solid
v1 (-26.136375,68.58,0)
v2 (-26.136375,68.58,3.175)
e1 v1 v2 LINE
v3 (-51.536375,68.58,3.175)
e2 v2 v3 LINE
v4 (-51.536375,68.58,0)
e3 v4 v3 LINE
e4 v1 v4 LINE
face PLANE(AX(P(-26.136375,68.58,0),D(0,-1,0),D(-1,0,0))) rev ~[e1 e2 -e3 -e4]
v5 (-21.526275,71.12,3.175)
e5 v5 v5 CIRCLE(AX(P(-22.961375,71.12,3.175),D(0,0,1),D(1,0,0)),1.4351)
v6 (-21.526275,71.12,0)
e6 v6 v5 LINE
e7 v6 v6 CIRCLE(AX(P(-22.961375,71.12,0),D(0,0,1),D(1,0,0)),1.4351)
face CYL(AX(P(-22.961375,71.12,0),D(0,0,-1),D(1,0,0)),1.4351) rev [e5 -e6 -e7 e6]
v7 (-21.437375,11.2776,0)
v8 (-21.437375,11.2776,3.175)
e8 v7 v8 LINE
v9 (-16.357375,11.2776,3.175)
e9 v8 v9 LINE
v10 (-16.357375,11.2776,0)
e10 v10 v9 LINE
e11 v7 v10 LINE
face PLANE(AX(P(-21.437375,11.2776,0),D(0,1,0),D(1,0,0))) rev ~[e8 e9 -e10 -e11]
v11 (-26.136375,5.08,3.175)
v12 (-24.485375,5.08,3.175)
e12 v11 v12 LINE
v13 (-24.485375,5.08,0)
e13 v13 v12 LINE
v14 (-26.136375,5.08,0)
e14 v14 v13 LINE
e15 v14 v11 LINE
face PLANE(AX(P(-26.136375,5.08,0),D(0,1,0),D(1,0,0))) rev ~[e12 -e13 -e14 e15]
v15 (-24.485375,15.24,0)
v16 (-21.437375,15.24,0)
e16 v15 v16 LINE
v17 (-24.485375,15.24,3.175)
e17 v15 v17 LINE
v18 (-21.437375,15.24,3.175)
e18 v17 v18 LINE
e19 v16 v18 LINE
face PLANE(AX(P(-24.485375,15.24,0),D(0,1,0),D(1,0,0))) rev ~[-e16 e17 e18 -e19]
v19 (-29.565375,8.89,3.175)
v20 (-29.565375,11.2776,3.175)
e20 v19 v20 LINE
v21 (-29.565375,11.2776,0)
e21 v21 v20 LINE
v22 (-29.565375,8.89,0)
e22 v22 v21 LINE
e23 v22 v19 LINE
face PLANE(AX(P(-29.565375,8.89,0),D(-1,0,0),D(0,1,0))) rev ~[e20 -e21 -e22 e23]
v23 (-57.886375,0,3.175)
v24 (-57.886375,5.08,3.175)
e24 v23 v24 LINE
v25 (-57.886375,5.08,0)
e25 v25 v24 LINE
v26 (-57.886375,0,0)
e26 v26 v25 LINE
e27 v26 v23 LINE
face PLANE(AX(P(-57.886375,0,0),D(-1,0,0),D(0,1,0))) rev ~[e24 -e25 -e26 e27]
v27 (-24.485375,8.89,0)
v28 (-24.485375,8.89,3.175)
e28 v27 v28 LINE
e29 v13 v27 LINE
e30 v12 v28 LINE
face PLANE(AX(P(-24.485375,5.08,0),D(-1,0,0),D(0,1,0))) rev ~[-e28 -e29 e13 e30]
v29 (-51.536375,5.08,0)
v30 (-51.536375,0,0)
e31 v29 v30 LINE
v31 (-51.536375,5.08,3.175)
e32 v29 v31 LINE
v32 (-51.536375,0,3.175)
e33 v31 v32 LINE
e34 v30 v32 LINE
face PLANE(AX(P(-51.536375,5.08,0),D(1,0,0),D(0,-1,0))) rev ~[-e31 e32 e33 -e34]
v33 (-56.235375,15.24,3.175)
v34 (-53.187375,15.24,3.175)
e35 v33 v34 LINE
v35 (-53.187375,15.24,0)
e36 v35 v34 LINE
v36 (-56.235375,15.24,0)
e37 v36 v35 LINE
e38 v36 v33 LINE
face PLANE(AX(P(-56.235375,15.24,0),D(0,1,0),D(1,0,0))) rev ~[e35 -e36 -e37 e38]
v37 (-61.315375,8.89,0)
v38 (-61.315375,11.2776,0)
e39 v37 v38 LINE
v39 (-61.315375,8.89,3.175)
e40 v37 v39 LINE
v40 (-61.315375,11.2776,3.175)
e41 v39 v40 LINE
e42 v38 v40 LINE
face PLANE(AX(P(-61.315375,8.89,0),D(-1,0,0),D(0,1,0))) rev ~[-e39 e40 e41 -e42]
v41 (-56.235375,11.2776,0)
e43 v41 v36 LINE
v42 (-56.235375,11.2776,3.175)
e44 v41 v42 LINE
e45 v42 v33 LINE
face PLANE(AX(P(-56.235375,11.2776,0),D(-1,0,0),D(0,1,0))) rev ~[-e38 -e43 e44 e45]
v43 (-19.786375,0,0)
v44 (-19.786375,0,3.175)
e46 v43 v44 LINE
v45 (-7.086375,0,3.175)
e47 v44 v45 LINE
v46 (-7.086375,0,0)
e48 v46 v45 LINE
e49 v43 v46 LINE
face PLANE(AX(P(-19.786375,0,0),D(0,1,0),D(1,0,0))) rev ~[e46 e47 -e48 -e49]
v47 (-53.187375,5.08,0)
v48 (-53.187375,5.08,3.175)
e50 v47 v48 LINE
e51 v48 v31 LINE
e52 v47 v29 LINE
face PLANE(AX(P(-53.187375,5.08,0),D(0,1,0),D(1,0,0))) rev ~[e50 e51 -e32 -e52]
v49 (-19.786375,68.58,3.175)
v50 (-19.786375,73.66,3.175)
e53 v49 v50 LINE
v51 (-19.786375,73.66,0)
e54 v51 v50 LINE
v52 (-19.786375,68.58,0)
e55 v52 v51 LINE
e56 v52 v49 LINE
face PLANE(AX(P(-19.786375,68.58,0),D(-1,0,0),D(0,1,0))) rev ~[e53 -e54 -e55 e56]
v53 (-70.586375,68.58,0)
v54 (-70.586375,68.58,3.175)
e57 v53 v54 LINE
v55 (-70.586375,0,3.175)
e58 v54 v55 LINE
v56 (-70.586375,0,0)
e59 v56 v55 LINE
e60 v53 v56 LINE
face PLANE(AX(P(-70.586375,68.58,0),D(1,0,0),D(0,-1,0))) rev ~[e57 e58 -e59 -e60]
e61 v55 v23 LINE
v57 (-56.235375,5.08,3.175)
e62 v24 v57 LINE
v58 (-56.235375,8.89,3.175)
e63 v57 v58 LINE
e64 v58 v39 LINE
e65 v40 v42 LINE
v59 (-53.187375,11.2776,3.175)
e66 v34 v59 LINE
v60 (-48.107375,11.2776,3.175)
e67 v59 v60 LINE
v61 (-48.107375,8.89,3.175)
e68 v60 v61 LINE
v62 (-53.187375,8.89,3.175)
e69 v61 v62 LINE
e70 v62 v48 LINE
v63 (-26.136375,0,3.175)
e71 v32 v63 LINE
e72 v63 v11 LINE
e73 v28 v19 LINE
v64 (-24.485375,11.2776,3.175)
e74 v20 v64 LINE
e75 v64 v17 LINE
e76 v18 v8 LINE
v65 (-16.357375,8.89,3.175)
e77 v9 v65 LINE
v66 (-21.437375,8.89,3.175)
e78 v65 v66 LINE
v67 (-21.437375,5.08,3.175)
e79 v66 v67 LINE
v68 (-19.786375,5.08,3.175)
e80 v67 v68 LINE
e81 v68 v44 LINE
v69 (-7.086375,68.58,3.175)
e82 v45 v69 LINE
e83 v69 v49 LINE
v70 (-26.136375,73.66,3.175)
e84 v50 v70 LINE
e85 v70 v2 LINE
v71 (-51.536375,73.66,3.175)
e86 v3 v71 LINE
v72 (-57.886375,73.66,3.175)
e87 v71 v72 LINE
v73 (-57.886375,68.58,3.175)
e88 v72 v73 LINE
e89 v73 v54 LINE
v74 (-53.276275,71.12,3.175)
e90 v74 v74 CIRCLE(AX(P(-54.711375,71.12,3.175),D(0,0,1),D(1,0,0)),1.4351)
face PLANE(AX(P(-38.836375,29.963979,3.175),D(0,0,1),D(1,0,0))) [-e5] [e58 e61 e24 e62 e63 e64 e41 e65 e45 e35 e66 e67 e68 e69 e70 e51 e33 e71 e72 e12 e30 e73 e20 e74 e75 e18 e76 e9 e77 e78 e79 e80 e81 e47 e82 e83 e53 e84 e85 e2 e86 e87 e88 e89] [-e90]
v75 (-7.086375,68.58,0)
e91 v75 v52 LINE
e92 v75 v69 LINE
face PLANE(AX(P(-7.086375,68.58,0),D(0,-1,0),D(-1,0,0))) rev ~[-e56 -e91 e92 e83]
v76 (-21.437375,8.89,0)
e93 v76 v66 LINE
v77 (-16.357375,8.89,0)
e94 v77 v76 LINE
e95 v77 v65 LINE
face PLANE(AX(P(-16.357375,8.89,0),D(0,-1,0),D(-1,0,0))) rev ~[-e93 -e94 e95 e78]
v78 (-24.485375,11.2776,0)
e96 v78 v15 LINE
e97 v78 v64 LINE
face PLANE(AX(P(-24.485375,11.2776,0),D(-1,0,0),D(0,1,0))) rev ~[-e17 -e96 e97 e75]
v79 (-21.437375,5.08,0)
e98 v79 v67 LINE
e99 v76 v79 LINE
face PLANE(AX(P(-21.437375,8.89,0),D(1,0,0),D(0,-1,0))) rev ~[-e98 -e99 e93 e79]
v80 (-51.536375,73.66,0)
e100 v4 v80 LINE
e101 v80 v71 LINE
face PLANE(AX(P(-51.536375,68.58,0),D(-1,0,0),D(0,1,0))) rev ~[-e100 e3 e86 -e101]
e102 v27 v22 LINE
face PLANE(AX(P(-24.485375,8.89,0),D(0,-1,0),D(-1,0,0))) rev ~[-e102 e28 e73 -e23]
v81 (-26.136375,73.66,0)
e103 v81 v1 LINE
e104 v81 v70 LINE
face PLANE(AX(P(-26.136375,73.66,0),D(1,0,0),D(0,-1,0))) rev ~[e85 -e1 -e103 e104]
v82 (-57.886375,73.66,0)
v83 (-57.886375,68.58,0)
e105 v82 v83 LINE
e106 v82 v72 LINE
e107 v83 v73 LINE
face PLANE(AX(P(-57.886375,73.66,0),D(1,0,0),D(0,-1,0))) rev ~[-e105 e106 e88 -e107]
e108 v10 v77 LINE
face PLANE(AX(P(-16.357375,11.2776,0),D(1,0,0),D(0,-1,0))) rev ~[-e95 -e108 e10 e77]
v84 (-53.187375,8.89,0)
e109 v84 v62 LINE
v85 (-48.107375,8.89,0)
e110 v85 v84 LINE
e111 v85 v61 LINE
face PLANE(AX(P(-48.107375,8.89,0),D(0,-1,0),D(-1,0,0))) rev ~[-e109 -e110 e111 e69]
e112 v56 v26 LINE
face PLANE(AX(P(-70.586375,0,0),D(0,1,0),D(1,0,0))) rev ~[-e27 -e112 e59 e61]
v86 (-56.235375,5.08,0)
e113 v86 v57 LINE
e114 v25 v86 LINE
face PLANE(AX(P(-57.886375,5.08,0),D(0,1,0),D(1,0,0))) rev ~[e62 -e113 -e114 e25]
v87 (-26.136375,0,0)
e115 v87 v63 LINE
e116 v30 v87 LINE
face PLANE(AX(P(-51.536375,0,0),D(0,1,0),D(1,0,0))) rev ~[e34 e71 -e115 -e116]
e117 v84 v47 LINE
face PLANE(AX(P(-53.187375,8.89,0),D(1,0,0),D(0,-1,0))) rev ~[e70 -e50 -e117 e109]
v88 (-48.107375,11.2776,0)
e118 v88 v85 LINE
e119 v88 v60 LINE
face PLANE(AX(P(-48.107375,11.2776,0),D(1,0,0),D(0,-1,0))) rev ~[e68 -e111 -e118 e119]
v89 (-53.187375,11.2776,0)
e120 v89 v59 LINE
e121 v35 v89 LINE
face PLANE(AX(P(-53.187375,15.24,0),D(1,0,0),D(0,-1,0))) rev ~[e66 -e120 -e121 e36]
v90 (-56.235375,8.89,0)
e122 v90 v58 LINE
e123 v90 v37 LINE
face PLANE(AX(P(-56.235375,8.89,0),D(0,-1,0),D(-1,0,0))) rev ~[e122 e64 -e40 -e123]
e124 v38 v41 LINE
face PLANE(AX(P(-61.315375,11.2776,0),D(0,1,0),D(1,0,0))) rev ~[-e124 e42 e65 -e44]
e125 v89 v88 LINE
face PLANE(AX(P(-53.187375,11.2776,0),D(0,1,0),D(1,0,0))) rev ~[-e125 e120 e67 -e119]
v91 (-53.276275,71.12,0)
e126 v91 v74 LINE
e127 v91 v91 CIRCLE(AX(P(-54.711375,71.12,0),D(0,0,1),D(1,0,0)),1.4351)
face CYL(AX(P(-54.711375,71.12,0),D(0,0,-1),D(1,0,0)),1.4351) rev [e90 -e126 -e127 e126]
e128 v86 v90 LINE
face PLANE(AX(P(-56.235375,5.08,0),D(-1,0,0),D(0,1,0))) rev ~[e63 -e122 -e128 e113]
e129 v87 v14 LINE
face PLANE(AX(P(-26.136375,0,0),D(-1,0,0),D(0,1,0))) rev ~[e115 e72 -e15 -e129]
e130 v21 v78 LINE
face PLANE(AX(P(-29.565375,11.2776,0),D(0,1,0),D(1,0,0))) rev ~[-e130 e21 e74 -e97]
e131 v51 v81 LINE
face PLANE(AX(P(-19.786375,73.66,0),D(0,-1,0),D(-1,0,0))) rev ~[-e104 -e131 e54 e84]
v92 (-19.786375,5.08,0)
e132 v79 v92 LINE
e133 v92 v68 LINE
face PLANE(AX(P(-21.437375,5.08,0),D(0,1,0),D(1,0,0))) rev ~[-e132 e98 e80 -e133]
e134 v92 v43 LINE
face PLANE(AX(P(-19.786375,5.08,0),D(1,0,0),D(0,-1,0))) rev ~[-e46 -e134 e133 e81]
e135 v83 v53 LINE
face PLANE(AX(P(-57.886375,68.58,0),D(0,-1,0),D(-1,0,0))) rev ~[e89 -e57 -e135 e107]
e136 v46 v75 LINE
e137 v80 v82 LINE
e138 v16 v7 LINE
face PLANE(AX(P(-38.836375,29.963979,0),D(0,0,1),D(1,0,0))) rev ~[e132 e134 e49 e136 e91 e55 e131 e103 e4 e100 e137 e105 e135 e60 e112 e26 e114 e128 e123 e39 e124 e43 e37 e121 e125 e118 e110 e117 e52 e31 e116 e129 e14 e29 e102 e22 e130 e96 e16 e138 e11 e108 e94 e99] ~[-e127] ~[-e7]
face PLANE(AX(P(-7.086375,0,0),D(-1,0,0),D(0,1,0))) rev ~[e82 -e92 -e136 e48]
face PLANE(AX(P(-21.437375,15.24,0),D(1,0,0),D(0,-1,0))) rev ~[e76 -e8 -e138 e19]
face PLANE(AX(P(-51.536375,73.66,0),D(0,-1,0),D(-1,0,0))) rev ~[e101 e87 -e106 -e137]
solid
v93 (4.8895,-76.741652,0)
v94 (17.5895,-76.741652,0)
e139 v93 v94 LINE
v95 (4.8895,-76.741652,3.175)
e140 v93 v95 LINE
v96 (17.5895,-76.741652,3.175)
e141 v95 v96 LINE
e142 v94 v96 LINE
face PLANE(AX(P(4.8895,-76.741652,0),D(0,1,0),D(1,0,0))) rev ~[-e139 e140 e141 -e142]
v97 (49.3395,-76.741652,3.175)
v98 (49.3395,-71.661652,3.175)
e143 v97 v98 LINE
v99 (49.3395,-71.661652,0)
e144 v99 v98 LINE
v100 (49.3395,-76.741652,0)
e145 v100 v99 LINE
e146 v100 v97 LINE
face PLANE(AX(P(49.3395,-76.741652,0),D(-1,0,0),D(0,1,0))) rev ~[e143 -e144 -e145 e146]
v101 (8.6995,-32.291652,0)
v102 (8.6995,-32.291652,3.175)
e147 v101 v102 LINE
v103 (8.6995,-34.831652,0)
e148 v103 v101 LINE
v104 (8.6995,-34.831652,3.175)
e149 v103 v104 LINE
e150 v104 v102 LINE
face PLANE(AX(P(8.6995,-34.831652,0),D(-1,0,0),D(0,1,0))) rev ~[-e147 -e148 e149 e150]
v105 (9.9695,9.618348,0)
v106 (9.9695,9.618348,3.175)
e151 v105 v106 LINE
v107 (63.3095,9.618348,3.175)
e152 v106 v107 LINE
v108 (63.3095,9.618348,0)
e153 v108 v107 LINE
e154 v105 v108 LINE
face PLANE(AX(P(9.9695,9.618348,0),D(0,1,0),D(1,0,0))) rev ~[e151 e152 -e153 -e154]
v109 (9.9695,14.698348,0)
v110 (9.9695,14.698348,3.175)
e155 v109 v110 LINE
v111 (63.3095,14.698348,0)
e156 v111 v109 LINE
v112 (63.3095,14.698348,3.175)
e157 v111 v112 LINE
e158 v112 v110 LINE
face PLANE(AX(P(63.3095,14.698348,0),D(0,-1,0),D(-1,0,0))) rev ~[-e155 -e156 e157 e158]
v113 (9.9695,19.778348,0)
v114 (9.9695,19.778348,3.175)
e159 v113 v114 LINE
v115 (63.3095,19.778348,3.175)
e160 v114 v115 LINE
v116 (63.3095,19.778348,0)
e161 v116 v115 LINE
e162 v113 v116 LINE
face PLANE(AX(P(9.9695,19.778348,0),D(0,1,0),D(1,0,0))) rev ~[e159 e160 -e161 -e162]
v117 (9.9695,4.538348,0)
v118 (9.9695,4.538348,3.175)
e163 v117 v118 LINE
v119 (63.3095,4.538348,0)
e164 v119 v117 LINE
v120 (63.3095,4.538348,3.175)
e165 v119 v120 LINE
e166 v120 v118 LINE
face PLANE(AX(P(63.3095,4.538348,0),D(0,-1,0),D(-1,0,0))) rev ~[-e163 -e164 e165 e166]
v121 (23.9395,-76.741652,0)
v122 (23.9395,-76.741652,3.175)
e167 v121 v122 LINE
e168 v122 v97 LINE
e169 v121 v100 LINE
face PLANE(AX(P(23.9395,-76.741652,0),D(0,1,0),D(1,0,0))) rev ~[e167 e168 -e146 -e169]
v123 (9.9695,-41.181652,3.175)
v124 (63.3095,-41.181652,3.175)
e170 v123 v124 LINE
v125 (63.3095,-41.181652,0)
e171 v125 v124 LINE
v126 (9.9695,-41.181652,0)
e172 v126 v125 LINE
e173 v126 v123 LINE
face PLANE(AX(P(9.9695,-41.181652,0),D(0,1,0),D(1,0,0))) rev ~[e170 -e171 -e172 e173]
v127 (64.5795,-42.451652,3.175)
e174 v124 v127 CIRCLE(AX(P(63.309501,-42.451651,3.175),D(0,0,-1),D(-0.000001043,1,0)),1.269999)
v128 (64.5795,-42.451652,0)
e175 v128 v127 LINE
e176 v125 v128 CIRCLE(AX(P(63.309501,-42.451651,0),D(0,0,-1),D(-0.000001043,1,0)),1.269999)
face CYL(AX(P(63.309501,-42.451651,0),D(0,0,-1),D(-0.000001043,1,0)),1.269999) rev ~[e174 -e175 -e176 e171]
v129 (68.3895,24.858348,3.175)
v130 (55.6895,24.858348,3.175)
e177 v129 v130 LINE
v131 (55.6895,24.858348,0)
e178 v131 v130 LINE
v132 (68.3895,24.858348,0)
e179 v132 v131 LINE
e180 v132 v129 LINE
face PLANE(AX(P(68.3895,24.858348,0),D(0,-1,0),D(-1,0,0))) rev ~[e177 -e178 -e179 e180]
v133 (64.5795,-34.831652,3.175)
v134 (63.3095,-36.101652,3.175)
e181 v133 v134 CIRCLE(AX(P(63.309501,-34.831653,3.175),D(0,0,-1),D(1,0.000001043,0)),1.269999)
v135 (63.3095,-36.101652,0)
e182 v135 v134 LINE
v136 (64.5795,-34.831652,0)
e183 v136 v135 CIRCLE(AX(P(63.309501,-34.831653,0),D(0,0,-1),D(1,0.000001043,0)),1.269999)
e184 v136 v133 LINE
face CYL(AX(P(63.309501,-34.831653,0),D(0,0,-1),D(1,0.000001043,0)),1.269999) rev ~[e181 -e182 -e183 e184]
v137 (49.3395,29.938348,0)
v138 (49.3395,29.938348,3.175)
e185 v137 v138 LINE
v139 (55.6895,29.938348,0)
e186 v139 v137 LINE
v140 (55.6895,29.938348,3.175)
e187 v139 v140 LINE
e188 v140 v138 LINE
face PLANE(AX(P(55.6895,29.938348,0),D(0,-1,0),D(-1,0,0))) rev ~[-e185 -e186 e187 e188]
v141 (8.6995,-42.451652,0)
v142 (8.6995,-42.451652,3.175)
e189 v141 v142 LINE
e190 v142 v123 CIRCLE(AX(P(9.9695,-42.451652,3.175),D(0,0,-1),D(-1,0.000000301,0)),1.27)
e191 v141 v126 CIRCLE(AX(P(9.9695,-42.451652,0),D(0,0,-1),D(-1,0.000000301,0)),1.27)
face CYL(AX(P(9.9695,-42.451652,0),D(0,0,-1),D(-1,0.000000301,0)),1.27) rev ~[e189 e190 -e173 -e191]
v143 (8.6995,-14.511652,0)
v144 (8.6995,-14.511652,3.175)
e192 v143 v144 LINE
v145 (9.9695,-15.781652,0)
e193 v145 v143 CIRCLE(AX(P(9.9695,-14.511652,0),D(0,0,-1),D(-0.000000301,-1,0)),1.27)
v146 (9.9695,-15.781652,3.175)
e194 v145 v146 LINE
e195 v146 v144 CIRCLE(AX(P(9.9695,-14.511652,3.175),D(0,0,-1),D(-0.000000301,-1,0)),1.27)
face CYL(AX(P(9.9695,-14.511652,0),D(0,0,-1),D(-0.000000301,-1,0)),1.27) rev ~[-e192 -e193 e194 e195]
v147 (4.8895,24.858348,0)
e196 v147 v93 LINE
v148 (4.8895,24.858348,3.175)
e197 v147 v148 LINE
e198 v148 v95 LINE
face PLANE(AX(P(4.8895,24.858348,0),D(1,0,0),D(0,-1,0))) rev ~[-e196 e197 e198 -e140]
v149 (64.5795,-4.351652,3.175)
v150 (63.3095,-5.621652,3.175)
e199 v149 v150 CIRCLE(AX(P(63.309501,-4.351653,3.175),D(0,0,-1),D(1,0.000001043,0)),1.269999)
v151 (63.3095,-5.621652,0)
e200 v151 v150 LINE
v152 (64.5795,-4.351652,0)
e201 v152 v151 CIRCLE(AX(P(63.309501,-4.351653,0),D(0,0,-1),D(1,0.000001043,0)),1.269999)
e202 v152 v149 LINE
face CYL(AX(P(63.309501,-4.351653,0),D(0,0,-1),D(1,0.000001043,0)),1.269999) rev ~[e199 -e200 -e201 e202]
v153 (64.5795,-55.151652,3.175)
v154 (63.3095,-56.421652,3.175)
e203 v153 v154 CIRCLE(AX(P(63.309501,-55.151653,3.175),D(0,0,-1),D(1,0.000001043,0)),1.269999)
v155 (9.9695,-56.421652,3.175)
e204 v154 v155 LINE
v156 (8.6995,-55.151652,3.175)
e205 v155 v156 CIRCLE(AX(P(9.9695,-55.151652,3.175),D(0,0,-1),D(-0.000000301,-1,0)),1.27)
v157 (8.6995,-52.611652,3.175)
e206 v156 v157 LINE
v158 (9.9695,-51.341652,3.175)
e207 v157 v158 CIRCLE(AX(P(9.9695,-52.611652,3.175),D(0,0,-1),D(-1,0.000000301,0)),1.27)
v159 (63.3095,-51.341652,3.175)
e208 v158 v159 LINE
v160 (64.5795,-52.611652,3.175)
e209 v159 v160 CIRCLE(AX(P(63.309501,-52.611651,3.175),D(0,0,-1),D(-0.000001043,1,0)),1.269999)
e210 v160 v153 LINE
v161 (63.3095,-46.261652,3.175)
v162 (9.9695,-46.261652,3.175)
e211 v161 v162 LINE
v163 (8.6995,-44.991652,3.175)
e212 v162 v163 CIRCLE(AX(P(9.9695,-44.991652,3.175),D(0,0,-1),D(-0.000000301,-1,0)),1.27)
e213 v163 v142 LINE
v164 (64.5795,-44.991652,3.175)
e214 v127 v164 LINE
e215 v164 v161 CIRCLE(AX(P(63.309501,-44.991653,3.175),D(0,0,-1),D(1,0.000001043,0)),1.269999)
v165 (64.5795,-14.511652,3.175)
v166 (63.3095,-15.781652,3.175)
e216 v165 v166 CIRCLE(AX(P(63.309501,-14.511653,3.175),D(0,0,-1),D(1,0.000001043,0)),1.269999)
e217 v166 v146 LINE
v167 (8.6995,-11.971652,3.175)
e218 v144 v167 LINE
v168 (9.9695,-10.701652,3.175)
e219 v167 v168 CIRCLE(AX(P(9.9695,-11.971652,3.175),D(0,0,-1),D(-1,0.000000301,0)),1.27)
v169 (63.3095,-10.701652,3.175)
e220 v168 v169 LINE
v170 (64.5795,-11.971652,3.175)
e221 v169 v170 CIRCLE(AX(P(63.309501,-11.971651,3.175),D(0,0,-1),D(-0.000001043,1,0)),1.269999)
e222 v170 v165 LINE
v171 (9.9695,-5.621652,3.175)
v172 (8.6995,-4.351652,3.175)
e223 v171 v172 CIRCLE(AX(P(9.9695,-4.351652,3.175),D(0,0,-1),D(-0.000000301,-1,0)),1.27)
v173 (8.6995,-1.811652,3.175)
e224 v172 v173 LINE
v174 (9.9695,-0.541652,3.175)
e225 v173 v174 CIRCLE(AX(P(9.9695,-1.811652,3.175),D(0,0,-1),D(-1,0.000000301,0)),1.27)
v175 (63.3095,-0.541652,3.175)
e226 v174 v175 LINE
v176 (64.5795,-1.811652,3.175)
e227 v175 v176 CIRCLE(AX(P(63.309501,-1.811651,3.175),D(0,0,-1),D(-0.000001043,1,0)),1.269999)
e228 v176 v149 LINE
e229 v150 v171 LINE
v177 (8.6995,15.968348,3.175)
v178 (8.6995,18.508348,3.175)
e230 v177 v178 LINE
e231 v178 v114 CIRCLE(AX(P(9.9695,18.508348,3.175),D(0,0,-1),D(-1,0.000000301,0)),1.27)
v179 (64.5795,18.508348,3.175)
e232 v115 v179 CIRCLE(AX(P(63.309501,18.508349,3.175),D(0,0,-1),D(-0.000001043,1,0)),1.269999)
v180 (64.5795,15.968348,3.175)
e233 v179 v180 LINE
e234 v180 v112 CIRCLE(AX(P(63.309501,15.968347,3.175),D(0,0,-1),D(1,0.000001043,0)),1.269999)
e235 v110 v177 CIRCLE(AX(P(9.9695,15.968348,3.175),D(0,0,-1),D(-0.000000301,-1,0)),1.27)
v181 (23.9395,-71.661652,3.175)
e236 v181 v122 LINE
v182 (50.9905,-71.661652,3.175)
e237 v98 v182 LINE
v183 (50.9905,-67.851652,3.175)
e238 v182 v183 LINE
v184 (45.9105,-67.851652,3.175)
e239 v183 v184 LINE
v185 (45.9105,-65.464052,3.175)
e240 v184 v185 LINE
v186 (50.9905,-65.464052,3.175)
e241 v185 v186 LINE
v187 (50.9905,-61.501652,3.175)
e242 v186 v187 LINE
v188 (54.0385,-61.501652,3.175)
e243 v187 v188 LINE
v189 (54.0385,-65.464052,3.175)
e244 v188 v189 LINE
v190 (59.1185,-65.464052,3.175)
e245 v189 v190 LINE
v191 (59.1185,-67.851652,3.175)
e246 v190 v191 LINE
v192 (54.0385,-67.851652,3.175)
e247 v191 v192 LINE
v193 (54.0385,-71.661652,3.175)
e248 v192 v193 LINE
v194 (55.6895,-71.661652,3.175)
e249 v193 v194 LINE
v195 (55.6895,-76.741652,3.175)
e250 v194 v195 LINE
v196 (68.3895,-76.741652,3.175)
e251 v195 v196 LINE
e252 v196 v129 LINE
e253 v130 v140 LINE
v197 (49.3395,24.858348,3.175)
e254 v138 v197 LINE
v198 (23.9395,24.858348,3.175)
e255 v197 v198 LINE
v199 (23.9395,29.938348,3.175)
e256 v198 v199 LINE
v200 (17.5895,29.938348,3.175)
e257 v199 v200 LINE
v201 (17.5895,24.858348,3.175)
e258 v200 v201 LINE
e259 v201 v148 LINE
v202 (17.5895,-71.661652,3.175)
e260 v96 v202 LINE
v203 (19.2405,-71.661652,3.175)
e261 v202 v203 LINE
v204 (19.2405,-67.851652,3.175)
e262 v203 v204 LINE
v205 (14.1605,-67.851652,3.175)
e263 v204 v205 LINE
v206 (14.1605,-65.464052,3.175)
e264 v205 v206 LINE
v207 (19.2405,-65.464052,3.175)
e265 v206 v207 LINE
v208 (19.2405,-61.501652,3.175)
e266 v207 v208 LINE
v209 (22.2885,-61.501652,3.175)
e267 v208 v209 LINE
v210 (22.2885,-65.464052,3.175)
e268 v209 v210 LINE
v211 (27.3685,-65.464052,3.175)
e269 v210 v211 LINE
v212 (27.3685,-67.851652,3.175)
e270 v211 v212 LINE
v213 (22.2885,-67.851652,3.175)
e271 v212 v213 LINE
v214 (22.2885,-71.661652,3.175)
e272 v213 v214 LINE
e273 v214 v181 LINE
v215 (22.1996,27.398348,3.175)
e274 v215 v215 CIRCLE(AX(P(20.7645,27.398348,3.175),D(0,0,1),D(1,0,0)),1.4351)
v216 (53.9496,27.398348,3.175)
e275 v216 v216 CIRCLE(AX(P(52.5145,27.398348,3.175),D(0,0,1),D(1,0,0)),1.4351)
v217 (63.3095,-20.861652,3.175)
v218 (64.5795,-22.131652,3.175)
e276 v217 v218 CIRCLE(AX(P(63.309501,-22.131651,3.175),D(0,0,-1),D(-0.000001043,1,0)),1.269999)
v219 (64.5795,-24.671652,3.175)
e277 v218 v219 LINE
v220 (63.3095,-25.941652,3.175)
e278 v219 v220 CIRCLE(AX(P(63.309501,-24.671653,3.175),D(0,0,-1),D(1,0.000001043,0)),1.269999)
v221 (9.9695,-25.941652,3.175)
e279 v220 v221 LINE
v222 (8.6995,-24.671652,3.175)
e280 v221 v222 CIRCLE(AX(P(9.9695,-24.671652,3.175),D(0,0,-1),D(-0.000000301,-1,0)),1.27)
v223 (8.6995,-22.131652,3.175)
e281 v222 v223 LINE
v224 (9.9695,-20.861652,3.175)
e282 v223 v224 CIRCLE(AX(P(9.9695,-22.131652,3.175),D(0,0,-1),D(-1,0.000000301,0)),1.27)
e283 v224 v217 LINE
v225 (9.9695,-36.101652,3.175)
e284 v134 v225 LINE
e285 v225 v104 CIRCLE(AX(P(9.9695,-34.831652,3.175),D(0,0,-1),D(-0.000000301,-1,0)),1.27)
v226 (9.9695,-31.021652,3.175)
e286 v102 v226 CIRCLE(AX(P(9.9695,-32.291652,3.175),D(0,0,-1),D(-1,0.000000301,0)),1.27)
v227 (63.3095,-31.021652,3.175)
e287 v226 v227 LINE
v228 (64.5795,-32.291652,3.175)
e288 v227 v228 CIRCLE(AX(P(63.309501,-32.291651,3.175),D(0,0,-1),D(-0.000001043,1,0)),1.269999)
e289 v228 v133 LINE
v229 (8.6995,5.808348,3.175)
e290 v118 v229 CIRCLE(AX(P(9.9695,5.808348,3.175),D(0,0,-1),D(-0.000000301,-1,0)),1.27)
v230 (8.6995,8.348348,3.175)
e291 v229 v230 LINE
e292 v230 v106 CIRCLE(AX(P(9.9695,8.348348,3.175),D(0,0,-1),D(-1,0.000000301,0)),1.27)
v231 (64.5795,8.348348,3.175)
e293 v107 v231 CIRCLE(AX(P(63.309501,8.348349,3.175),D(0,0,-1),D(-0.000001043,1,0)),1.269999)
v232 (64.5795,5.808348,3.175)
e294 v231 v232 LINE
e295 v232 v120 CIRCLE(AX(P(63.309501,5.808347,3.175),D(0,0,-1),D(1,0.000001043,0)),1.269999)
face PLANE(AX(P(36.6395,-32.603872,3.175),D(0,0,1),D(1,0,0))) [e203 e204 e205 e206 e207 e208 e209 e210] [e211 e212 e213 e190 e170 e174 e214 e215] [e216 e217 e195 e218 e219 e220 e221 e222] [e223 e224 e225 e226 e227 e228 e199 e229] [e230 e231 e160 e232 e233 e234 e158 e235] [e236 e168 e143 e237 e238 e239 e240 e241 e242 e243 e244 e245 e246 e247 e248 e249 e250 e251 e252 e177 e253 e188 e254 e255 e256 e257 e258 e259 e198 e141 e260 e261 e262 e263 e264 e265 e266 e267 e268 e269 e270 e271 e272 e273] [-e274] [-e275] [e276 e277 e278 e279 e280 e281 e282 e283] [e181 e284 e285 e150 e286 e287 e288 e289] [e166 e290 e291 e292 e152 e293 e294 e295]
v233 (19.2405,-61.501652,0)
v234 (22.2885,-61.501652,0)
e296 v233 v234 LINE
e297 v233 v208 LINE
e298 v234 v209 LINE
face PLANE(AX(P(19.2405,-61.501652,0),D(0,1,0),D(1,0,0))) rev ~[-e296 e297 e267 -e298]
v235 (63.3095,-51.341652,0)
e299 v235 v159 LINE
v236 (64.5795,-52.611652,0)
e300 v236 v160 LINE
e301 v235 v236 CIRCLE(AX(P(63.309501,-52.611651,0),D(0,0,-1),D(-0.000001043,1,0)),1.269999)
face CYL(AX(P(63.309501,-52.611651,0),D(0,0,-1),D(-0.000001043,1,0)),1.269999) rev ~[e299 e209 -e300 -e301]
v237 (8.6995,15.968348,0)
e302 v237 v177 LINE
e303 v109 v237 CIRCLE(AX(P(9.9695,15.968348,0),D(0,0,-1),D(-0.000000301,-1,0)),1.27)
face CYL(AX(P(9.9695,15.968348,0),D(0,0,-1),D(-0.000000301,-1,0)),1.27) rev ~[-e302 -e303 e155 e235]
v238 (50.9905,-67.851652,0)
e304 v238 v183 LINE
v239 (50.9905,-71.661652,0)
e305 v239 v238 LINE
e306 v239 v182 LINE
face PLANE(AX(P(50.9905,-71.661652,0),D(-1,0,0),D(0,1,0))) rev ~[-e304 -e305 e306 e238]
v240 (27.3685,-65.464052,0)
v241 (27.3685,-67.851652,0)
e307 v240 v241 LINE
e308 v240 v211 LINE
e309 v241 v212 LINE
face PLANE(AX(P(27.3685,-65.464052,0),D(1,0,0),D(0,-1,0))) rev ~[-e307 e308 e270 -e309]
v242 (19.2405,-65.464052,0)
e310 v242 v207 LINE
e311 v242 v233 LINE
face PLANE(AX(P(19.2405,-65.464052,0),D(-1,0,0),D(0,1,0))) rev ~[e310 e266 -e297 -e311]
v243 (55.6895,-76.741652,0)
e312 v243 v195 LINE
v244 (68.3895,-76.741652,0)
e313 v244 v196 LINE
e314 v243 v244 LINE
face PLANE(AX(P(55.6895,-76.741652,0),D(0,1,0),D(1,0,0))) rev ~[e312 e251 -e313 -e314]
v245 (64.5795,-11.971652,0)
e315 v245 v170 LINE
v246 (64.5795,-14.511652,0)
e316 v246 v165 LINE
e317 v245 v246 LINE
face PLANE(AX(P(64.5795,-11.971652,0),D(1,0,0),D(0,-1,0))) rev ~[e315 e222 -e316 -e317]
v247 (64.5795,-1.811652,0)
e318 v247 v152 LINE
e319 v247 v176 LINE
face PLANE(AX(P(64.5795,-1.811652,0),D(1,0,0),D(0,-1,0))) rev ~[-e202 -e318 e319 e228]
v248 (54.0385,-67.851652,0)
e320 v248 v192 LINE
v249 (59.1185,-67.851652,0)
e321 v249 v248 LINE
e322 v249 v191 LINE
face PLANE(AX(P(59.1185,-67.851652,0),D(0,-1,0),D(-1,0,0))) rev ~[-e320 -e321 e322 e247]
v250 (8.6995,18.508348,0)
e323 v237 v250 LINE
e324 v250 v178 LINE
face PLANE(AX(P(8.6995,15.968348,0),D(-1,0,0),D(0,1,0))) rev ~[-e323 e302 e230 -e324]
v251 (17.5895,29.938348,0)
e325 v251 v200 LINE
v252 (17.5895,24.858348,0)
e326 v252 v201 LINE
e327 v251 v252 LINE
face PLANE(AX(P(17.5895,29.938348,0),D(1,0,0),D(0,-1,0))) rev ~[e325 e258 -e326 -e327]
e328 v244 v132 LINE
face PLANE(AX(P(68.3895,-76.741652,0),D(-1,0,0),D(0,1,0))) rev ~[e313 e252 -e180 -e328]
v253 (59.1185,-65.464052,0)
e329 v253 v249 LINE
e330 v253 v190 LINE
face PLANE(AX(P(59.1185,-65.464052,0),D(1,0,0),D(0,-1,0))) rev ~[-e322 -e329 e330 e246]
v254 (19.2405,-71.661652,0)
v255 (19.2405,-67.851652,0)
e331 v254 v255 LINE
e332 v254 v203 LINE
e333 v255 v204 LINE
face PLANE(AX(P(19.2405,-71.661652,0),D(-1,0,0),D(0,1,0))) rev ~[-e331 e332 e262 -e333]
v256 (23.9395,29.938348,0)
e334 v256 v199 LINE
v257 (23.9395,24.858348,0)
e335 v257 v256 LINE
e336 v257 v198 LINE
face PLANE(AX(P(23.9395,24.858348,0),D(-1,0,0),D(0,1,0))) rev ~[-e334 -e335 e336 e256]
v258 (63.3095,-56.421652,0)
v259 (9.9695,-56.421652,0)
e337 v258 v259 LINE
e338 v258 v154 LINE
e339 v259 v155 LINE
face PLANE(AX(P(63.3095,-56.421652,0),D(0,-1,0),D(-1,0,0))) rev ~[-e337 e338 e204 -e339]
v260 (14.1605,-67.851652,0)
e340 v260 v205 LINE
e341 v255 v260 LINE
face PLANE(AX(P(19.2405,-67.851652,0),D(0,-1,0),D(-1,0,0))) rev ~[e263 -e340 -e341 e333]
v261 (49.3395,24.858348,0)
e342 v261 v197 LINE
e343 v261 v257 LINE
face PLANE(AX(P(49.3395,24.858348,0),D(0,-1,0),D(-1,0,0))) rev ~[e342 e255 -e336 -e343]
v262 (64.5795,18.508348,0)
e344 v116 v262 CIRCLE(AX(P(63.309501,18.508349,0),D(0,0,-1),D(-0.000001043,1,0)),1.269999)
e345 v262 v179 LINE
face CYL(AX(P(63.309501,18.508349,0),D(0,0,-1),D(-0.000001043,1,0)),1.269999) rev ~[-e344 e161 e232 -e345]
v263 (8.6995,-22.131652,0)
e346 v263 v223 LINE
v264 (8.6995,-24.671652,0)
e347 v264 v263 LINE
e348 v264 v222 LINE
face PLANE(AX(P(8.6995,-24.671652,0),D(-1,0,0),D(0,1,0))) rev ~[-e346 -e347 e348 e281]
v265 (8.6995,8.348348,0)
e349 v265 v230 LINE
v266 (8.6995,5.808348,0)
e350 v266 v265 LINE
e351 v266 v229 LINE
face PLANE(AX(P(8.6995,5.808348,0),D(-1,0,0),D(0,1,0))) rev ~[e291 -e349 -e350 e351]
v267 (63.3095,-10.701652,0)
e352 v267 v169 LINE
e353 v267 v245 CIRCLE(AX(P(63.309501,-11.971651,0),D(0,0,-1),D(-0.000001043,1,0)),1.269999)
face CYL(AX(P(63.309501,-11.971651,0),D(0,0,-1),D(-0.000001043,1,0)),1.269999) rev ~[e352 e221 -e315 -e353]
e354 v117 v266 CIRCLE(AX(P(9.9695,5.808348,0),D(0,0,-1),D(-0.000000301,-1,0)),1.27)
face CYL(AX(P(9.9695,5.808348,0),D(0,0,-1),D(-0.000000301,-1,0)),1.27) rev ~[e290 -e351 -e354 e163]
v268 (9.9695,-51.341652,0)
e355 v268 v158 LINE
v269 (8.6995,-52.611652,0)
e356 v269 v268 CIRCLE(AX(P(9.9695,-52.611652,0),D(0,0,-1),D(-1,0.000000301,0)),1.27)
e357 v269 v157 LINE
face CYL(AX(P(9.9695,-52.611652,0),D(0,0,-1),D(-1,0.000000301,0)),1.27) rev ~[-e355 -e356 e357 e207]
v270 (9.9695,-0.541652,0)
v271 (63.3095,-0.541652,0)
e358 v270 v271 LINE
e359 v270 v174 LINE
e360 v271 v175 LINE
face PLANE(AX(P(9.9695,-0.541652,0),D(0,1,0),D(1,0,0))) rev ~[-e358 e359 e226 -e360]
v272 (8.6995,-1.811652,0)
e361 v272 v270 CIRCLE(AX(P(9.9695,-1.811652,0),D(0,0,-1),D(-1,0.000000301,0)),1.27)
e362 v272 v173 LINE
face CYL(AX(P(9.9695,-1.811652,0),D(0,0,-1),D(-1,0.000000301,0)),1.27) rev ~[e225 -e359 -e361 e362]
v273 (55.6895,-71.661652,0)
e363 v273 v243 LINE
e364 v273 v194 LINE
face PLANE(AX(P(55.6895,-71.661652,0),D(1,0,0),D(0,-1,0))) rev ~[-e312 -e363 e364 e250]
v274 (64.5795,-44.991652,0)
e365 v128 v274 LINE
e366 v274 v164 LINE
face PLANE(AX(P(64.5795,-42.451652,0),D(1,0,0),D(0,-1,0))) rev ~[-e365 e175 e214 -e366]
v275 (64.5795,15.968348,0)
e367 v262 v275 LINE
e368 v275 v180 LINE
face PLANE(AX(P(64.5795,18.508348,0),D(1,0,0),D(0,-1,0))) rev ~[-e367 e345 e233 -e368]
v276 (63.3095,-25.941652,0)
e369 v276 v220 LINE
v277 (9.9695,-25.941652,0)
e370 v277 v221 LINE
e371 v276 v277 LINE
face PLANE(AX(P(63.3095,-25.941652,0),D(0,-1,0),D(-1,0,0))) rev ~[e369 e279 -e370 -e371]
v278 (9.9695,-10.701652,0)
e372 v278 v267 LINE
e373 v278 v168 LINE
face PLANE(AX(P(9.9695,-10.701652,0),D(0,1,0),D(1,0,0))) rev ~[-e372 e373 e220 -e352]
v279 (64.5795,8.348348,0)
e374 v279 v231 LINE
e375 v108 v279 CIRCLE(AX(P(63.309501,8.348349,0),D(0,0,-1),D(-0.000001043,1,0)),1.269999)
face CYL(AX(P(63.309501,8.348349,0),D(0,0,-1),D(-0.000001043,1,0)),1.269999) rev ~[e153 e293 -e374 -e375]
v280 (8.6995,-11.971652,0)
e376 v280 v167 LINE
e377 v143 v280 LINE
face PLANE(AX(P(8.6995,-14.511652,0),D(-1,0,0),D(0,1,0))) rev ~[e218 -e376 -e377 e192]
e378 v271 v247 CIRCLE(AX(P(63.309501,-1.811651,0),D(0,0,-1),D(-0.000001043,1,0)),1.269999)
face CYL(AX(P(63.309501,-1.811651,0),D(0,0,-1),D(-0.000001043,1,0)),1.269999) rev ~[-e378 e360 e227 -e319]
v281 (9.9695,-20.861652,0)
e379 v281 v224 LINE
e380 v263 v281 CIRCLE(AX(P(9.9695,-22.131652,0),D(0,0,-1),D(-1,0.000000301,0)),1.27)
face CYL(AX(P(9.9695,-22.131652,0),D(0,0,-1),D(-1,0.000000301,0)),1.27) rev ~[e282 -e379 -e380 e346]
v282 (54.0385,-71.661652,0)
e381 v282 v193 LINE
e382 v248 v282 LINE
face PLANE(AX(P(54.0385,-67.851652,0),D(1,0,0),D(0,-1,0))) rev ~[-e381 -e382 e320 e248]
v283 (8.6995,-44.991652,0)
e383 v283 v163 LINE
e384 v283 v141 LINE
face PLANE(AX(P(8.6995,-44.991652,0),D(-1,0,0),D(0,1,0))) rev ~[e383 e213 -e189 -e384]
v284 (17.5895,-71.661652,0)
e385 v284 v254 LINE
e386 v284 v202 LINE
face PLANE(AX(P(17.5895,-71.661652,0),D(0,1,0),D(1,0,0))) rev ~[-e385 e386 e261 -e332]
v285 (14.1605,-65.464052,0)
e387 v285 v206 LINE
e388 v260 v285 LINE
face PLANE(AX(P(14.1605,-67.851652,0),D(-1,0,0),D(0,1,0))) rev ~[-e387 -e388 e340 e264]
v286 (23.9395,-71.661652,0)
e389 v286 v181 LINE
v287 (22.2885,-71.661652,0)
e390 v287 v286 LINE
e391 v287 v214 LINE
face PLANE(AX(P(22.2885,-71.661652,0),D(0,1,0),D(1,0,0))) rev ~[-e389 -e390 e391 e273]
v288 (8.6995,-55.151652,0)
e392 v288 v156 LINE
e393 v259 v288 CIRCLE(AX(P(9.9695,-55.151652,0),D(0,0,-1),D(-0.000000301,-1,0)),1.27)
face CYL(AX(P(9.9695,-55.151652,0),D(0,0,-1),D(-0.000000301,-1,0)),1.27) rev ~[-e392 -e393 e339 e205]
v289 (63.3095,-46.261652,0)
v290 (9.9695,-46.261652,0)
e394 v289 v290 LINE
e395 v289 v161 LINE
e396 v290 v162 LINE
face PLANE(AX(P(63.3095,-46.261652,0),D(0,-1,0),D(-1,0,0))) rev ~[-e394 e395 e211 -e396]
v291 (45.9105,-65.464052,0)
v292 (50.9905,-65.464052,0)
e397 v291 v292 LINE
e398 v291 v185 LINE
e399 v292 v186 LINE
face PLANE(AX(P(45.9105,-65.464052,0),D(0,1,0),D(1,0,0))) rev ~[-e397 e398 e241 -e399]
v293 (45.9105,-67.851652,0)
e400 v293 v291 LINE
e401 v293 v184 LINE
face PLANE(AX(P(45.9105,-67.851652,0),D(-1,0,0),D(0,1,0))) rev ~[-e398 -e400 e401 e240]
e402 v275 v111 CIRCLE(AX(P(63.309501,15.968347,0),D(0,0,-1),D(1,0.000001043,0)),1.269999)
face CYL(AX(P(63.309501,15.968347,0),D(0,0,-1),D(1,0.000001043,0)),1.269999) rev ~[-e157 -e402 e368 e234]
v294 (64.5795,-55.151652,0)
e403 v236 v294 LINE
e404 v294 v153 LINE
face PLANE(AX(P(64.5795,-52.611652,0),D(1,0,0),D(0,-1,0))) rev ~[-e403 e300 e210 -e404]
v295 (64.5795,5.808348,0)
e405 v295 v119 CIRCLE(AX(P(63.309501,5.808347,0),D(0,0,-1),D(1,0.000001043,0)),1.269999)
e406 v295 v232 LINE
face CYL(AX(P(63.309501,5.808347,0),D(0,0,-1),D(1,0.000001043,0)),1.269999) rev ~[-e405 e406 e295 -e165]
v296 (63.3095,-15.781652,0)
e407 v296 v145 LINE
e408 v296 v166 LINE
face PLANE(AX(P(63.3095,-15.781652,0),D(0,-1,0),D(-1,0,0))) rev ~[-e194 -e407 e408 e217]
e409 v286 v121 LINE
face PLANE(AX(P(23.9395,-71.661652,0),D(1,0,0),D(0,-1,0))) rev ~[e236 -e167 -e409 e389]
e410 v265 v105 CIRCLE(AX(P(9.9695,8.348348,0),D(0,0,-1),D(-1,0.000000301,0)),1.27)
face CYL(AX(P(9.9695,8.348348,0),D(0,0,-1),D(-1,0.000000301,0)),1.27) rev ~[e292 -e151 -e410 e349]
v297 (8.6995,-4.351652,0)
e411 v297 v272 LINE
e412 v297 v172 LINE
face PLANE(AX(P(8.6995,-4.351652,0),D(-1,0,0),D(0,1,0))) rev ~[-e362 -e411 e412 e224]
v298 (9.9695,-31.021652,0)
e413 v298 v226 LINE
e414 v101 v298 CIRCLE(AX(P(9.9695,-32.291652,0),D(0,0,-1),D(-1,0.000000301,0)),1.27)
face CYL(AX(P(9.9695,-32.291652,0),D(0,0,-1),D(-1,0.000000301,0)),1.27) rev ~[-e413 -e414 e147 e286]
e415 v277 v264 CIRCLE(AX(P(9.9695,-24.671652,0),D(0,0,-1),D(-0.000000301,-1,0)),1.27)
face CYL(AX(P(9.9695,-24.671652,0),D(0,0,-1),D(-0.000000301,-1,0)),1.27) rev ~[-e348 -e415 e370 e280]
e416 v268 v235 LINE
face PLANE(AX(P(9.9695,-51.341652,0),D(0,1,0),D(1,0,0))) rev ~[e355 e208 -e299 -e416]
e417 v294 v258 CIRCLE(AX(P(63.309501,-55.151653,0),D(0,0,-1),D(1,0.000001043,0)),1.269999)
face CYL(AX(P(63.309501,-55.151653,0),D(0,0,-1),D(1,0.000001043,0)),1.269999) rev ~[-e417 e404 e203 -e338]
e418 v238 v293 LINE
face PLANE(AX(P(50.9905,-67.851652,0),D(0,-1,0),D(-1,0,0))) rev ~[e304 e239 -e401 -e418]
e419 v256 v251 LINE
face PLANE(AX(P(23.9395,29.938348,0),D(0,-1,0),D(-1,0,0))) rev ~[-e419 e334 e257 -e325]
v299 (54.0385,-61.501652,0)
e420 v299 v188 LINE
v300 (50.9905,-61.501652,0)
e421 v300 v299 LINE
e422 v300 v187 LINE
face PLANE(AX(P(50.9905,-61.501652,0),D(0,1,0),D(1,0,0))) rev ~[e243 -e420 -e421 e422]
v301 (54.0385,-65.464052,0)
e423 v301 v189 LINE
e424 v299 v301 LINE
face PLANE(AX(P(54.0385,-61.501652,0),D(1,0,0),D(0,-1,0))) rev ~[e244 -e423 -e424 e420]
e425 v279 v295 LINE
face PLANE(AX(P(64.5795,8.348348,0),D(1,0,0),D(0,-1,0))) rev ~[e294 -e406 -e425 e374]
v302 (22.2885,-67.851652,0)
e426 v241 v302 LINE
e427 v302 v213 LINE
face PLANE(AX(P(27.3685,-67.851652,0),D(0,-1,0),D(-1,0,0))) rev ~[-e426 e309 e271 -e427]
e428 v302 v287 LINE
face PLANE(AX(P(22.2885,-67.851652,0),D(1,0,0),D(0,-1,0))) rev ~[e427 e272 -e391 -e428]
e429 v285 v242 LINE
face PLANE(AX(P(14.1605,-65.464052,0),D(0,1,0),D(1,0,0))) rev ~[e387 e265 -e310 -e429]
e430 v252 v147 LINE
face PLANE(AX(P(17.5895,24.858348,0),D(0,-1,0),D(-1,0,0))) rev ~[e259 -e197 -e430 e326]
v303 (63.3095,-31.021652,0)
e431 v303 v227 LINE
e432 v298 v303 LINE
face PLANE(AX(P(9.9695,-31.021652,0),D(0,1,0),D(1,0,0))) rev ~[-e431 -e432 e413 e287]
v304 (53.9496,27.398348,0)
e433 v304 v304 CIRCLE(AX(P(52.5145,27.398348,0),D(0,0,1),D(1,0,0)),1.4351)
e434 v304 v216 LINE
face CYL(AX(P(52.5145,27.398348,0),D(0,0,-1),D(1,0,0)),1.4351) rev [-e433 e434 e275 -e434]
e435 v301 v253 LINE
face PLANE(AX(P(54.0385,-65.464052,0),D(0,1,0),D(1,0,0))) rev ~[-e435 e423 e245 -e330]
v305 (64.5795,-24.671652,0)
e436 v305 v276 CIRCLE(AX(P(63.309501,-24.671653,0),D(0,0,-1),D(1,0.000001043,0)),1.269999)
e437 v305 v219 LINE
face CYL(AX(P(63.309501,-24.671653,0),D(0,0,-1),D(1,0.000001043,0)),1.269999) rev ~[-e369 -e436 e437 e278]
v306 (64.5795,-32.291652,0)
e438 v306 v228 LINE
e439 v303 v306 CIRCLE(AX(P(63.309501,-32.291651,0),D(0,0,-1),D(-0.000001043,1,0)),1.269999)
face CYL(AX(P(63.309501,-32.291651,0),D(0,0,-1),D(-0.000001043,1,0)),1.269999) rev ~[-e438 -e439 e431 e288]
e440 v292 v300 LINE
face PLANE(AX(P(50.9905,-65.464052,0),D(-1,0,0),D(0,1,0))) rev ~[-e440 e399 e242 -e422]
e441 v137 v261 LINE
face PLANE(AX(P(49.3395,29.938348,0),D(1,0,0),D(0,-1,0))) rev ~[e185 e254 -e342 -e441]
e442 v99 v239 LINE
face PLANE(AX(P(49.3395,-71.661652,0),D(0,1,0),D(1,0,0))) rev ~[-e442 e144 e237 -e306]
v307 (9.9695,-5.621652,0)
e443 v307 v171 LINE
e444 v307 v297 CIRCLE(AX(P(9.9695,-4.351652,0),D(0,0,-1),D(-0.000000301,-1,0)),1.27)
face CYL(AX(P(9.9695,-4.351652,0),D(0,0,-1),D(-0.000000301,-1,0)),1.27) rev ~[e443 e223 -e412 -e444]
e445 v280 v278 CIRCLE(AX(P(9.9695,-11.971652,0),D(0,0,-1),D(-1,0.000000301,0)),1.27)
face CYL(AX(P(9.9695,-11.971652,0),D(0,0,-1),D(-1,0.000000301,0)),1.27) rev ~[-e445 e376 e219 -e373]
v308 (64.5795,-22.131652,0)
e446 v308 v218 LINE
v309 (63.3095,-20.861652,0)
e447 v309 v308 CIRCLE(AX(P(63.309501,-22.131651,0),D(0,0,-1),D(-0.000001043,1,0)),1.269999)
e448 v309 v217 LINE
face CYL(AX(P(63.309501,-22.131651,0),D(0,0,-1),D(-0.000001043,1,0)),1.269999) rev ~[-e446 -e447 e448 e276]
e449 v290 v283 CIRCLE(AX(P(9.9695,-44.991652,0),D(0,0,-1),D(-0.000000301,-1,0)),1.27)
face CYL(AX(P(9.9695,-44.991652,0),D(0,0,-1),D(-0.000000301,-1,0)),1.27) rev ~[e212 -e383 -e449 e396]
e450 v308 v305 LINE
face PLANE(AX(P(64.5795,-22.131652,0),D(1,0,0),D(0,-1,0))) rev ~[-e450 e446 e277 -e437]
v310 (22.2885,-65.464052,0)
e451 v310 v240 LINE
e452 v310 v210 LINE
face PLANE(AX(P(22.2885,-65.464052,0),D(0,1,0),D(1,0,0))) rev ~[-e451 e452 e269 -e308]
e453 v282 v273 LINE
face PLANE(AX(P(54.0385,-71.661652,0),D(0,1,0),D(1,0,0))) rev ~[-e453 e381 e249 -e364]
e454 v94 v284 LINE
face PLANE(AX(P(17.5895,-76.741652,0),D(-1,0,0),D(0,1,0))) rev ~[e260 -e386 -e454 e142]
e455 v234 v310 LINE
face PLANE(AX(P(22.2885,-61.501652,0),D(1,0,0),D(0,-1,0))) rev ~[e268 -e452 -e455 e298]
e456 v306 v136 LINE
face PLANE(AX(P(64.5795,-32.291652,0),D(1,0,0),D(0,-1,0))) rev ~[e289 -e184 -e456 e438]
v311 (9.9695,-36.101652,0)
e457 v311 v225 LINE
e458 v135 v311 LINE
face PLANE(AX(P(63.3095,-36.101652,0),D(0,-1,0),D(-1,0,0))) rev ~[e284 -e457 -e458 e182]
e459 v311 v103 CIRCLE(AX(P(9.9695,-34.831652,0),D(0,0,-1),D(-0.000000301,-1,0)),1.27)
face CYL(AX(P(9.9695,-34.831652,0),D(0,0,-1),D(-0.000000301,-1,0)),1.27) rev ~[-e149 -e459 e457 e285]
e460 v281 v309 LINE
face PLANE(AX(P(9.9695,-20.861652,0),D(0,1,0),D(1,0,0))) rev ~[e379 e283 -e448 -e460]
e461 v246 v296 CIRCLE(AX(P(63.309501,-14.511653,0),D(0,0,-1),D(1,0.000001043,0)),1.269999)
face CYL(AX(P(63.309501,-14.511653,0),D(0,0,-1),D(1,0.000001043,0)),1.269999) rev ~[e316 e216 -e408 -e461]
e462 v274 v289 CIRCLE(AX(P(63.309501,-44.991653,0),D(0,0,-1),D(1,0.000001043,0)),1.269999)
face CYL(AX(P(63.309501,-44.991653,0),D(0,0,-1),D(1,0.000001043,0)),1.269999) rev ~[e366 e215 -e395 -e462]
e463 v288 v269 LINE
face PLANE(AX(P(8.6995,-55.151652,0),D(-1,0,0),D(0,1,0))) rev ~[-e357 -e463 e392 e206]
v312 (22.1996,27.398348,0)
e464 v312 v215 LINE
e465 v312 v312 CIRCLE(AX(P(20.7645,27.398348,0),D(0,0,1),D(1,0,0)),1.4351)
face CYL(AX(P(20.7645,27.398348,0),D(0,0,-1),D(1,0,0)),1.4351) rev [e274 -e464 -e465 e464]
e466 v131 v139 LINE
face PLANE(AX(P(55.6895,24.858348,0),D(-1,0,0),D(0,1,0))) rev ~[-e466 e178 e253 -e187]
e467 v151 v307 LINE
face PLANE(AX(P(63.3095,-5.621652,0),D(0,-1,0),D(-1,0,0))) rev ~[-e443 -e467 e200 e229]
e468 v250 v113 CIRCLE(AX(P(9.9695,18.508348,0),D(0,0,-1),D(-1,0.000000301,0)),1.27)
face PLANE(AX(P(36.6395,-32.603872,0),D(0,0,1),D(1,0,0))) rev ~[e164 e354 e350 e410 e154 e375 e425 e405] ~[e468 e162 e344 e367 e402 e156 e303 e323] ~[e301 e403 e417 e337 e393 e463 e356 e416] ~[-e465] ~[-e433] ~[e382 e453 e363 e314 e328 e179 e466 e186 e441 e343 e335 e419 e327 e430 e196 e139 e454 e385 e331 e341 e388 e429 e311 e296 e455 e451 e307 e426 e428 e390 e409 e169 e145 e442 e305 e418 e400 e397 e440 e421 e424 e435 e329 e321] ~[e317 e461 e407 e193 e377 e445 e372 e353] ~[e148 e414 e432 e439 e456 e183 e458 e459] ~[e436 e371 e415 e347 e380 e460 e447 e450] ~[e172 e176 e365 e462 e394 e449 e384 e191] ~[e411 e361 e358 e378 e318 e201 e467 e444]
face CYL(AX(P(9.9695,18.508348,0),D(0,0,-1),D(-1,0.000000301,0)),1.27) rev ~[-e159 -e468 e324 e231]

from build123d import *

# Parameters (mm, degrees)
F0_R     = 1.4351
F1_DEPTH = 3.175
F2_R     = 1.4351
F3_DEPTH = 3.175


with BuildPart() as f1:
    # F0 (on Top) → F1 (new body)
    with BuildSketch(Plane.XY):
        Polygon((-21.437375, 5.08), (-19.786375, 5.08), (-19.786375, 0), (-7.086375, 0), (-7.086375, 5.08), (-7.086375, 68.58), (-19.786375, 68.58), (-19.786375, 73.66), (-26.136375, 73.66), (-26.136375, 68.58), (-51.536375, 68.58), (-51.536375, 71.12), (-51.536375, 73.66), (-57.886375, 73.66), (-57.886375, 68.58), (-70.586375, 68.58), (-70.586375, 5.08), (-70.586375, 0), (-57.886375, 0), (-57.886375, 5.08), (-56.235375, 5.08), (-56.235375, 8.89), (-61.315375, 8.89), (-61.315375, 11.2776), (-56.235375, 11.2776), (-56.235375, 15.24), (-54.711375, 15.24), (-53.187375, 15.24), (-53.187375, 11.2776), (-48.107375, 11.2776), (-48.107375, 8.89), (-53.187375, 8.89), (-53.187375, 5.08), (-51.536375, 5.08), (-51.536375, 0), (-26.136375, 0), (-26.136375, 5.08), (-24.485375, 5.08), (-24.485375, 8.89), (-29.565375, 8.89), (-29.565375, 11.2776), (-24.485375, 11.2776), (-24.485375, 15.24), (-22.961375, 15.24), (-21.437375, 15.24), (-21.437375, 11.2776), (-16.357375, 11.2776), (-16.357375, 8.89), (-21.437375, 8.89), align=None)
        with Locations((-54.711375, 71.12)):
            Circle(F0_R, mode=Mode.SUBTRACT)
        with Locations((-22.961375, 71.12)):
            Circle(F0_R, mode=Mode.SUBTRACT)
    extrude(amount=F1_DEPTH)


with BuildPart() as f3:
    # F2 (on Top) → F3 (new body)
    with BuildSketch(Plane.XY):
        Polygon((54.0385, -71.661652), (55.6895, -71.661652), (55.6895, -76.741652), (68.3895, -76.741652), (68.3895, -71.661652), (68.3895, 24.858348), (55.6895, 24.858348), (55.6895, 29.938348), (49.3395, 29.938348), (49.3395, 24.858348), (23.9395, 24.858348), (23.9395, 27.398348), (23.9395, 29.938348), (17.5895, 29.938348), (17.5895, 24.858348), (4.8895, 24.858348), (4.8895, -71.661652), (4.8895, -76.741652), (17.5895, -76.741652), (17.5895, -71.661652), (19.2405, -71.661652), (19.2405, -67.851652), (14.1605, -67.851652), (14.1605, -65.464052), (19.2405, -65.464052), (19.2405, -61.501652), (20.7645, -61.501652), (22.2885, -61.501652), (22.2885, -65.464052), (27.3685, -65.464052), (27.3685, -67.851652), (22.2885, -67.851652), (22.2885, -71.661652), (23.9395, -71.661652), (23.9395, -76.741652), (49.3395, -76.741652), (49.3395, -71.661652), (50.9905, -71.661652), (50.9905, -67.851652), (45.9105, -67.851652), (45.9105, -65.464052), (50.9905, -65.464052), (50.9905, -61.501652), (52.5145, -61.501652), (54.0385, -61.501652), (54.0385, -65.464052), (59.1185, -65.464052), (59.1185, -67.851652), (54.0385, -67.851652), align=None)
        with BuildLine():
            ThreePointArc((8.6995, -52.611652), (9.071475, -51.713626), (9.9695, -51.341652))
            Line((9.9695, -51.341652), (63.3095, -51.341652))
            ThreePointArc((63.3095, -51.341652), (64.207526, -51.713626), (64.5795, -52.611652))
            Line((64.5795, -52.611652), (64.5795, -55.151652))
            ThreePointArc((64.5795, -55.151652), (64.207526, -56.049678), (63.3095, -56.421652))
            Line((63.3095, -56.421652), (9.9695, -56.421652))
            ThreePointArc((9.9695, -56.421652), (9.071475, -56.049678), (8.6995, -55.151652))
            Line((8.6995, -55.151652), (8.6995, -52.611652))
        make_face(mode=Mode.SUBTRACT)
        with BuildLine():
            ThreePointArc((8.6995, -42.451652), (9.071475, -41.553626), (9.9695, -41.181652))
            Line((9.9695, -41.181652), (63.3095, -41.181652))
            ThreePointArc((63.3095, -41.181652), (64.207526, -41.553626), (64.5795, -42.451652))
            Line((64.5795, -42.451652), (64.5795, -44.991652))
            ThreePointArc((64.5795, -44.991652), (64.207526, -45.889678), (63.3095, -46.261652))
            Line((63.3095, -46.261652), (9.9695, -46.261652))
            ThreePointArc((9.9695, -46.261652), (9.071475, -45.889678), (8.6995, -44.991652))
            Line((8.6995, -44.991652), (8.6995, -42.451652))
        make_face(mode=Mode.SUBTRACT)
        with BuildLine():
            ThreePointArc((8.6995, -22.131652), (9.071475, -21.233626), (9.9695, -20.861652))
            Line((9.9695, -20.861652), (63.3095, -20.861652))
            ThreePointArc((63.3095, -20.861652), (64.207526, -21.233626), (64.5795, -22.131652))
            Line((64.5795, -22.131652), (64.5795, -24.671652))
            ThreePointArc((64.5795, -24.671652), (64.207526, -25.569678), (63.3095, -25.941652))
            Line((63.3095, -25.941652), (9.9695, -25.941652))
            ThreePointArc((9.9695, -25.941652), (9.071475, -25.569678), (8.6995, -24.671652))
            Line((8.6995, -24.671652), (8.6995, -22.131652))
        make_face(mode=Mode.SUBTRACT)
        with BuildLine():
            ThreePointArc((8.6995, -32.291652), (9.071475, -31.393626), (9.9695, -31.021652))
            Line((9.9695, -31.021652), (63.3095, -31.021652))
            ThreePointArc((63.3095, -31.021652), (64.207526, -31.393626), (64.5795, -32.291652))
            Line((64.5795, -32.291652), (64.5795, -34.831652))
            ThreePointArc((64.5795, -34.831652), (64.207526, -35.729678), (63.3095, -36.101652))
            Line((63.3095, -36.101652), (9.9695, -36.101652))
            ThreePointArc((9.9695, -36.101652), (9.071475, -35.729678), (8.6995, -34.831652))
            Line((8.6995, -34.831652), (8.6995, -32.291652))
        make_face(mode=Mode.SUBTRACT)
        with Locations((20.7645, 27.398348)):
            Circle(F2_R, mode=Mode.SUBTRACT)
        with BuildLine():
            ThreePointArc((8.6995, -11.971652), (9.071475, -11.073626), (9.9695, -10.701652))
            Line((9.9695, -10.701652), (63.3095, -10.701652))
            ThreePointArc((63.3095, -10.701652), (64.207526, -11.073626), (64.5795, -11.971652))
            Line((64.5795, -11.971652), (64.5795, -14.511652))
            ThreePointArc((64.5795, -14.511652), (64.207526, -15.409678), (63.3095, -15.781652))
            Line((63.3095, -15.781652), (9.9695, -15.781652))
            ThreePointArc((9.9695, -15.781652), (9.071475, -15.409678), (8.6995, -14.511652))
            Line((8.6995, -14.511652), (8.6995, -11.971652))
        make_face(mode=Mode.SUBTRACT)
        with BuildLine():
            ThreePointArc((8.6995, -1.811652), (9.071475, -0.913626), (9.9695, -0.541652))
            Line((9.9695, -0.541652), (63.3095, -0.541652))
            ThreePointArc((63.3095, -0.541652), (64.207526, -0.913626), (64.5795, -1.811652))
            Line((64.5795, -1.811652), (64.5795, -4.351652))
            ThreePointArc((64.5795, -4.351652), (64.207526, -5.249678), (63.3095, -5.621652))
            Line((63.3095, -5.621652), (9.9695, -5.621652))
            ThreePointArc((9.9695, -5.621652), (9.071475, -5.249678), (8.6995, -4.351652))
            Line((8.6995, -4.351652), (8.6995, -1.811652))
        make_face(mode=Mode.SUBTRACT)
        with BuildLine():
            ThreePointArc((8.6995, 8.348348), (9.071475, 9.246374), (9.9695, 9.618348))
            Line((9.9695, 9.618348), (63.3095, 9.618348))
            ThreePointArc((63.3095, 9.618348), (64.207526, 9.246374), (64.5795, 8.348348))
            Line((64.5795, 8.348348), (64.5795, 5.808348))
            ThreePointArc((64.5795, 5.808348), (64.207526, 4.910322), (63.3095, 4.538348))
            Line((63.3095, 4.538348), (9.9695, 4.538348))
            ThreePointArc((9.9695, 4.538348), (9.071475, 4.910322), (8.6995, 5.808348))
            Line((8.6995, 5.808348), (8.6995, 8.348348))
        make_face(mode=Mode.SUBTRACT)
        with BuildLine():
            ThreePointArc((8.6995, 18.508348), (9.071475, 19.406374), (9.9695, 19.778348))
            Line((9.9695, 19.778348), (63.3095, 19.778348))
            ThreePointArc((63.3095, 19.778348), (64.207526, 19.406374), (64.5795, 18.508348))
            Line((64.5795, 18.508348), (64.5795, 15.968348))
            ThreePointArc((64.5795, 15.968348), (64.207526, 15.070322), (63.3095, 14.698348))
            Line((63.3095, 14.698348), (9.9695, 14.698348))
            ThreePointArc((9.9695, 14.698348), (9.071475, 15.070322), (8.6995, 15.968348))
            Line((8.6995, 15.968348), (8.6995, 18.508348))
        make_face(mode=Mode.SUBTRACT)
        with Locations((52.5145, 27.398348)):
            Circle(F2_R, mode=Mode.SUBTRACT)
    extrude(amount=F3_DEPTH)


solid = Compound([f1.part, f3.part])
